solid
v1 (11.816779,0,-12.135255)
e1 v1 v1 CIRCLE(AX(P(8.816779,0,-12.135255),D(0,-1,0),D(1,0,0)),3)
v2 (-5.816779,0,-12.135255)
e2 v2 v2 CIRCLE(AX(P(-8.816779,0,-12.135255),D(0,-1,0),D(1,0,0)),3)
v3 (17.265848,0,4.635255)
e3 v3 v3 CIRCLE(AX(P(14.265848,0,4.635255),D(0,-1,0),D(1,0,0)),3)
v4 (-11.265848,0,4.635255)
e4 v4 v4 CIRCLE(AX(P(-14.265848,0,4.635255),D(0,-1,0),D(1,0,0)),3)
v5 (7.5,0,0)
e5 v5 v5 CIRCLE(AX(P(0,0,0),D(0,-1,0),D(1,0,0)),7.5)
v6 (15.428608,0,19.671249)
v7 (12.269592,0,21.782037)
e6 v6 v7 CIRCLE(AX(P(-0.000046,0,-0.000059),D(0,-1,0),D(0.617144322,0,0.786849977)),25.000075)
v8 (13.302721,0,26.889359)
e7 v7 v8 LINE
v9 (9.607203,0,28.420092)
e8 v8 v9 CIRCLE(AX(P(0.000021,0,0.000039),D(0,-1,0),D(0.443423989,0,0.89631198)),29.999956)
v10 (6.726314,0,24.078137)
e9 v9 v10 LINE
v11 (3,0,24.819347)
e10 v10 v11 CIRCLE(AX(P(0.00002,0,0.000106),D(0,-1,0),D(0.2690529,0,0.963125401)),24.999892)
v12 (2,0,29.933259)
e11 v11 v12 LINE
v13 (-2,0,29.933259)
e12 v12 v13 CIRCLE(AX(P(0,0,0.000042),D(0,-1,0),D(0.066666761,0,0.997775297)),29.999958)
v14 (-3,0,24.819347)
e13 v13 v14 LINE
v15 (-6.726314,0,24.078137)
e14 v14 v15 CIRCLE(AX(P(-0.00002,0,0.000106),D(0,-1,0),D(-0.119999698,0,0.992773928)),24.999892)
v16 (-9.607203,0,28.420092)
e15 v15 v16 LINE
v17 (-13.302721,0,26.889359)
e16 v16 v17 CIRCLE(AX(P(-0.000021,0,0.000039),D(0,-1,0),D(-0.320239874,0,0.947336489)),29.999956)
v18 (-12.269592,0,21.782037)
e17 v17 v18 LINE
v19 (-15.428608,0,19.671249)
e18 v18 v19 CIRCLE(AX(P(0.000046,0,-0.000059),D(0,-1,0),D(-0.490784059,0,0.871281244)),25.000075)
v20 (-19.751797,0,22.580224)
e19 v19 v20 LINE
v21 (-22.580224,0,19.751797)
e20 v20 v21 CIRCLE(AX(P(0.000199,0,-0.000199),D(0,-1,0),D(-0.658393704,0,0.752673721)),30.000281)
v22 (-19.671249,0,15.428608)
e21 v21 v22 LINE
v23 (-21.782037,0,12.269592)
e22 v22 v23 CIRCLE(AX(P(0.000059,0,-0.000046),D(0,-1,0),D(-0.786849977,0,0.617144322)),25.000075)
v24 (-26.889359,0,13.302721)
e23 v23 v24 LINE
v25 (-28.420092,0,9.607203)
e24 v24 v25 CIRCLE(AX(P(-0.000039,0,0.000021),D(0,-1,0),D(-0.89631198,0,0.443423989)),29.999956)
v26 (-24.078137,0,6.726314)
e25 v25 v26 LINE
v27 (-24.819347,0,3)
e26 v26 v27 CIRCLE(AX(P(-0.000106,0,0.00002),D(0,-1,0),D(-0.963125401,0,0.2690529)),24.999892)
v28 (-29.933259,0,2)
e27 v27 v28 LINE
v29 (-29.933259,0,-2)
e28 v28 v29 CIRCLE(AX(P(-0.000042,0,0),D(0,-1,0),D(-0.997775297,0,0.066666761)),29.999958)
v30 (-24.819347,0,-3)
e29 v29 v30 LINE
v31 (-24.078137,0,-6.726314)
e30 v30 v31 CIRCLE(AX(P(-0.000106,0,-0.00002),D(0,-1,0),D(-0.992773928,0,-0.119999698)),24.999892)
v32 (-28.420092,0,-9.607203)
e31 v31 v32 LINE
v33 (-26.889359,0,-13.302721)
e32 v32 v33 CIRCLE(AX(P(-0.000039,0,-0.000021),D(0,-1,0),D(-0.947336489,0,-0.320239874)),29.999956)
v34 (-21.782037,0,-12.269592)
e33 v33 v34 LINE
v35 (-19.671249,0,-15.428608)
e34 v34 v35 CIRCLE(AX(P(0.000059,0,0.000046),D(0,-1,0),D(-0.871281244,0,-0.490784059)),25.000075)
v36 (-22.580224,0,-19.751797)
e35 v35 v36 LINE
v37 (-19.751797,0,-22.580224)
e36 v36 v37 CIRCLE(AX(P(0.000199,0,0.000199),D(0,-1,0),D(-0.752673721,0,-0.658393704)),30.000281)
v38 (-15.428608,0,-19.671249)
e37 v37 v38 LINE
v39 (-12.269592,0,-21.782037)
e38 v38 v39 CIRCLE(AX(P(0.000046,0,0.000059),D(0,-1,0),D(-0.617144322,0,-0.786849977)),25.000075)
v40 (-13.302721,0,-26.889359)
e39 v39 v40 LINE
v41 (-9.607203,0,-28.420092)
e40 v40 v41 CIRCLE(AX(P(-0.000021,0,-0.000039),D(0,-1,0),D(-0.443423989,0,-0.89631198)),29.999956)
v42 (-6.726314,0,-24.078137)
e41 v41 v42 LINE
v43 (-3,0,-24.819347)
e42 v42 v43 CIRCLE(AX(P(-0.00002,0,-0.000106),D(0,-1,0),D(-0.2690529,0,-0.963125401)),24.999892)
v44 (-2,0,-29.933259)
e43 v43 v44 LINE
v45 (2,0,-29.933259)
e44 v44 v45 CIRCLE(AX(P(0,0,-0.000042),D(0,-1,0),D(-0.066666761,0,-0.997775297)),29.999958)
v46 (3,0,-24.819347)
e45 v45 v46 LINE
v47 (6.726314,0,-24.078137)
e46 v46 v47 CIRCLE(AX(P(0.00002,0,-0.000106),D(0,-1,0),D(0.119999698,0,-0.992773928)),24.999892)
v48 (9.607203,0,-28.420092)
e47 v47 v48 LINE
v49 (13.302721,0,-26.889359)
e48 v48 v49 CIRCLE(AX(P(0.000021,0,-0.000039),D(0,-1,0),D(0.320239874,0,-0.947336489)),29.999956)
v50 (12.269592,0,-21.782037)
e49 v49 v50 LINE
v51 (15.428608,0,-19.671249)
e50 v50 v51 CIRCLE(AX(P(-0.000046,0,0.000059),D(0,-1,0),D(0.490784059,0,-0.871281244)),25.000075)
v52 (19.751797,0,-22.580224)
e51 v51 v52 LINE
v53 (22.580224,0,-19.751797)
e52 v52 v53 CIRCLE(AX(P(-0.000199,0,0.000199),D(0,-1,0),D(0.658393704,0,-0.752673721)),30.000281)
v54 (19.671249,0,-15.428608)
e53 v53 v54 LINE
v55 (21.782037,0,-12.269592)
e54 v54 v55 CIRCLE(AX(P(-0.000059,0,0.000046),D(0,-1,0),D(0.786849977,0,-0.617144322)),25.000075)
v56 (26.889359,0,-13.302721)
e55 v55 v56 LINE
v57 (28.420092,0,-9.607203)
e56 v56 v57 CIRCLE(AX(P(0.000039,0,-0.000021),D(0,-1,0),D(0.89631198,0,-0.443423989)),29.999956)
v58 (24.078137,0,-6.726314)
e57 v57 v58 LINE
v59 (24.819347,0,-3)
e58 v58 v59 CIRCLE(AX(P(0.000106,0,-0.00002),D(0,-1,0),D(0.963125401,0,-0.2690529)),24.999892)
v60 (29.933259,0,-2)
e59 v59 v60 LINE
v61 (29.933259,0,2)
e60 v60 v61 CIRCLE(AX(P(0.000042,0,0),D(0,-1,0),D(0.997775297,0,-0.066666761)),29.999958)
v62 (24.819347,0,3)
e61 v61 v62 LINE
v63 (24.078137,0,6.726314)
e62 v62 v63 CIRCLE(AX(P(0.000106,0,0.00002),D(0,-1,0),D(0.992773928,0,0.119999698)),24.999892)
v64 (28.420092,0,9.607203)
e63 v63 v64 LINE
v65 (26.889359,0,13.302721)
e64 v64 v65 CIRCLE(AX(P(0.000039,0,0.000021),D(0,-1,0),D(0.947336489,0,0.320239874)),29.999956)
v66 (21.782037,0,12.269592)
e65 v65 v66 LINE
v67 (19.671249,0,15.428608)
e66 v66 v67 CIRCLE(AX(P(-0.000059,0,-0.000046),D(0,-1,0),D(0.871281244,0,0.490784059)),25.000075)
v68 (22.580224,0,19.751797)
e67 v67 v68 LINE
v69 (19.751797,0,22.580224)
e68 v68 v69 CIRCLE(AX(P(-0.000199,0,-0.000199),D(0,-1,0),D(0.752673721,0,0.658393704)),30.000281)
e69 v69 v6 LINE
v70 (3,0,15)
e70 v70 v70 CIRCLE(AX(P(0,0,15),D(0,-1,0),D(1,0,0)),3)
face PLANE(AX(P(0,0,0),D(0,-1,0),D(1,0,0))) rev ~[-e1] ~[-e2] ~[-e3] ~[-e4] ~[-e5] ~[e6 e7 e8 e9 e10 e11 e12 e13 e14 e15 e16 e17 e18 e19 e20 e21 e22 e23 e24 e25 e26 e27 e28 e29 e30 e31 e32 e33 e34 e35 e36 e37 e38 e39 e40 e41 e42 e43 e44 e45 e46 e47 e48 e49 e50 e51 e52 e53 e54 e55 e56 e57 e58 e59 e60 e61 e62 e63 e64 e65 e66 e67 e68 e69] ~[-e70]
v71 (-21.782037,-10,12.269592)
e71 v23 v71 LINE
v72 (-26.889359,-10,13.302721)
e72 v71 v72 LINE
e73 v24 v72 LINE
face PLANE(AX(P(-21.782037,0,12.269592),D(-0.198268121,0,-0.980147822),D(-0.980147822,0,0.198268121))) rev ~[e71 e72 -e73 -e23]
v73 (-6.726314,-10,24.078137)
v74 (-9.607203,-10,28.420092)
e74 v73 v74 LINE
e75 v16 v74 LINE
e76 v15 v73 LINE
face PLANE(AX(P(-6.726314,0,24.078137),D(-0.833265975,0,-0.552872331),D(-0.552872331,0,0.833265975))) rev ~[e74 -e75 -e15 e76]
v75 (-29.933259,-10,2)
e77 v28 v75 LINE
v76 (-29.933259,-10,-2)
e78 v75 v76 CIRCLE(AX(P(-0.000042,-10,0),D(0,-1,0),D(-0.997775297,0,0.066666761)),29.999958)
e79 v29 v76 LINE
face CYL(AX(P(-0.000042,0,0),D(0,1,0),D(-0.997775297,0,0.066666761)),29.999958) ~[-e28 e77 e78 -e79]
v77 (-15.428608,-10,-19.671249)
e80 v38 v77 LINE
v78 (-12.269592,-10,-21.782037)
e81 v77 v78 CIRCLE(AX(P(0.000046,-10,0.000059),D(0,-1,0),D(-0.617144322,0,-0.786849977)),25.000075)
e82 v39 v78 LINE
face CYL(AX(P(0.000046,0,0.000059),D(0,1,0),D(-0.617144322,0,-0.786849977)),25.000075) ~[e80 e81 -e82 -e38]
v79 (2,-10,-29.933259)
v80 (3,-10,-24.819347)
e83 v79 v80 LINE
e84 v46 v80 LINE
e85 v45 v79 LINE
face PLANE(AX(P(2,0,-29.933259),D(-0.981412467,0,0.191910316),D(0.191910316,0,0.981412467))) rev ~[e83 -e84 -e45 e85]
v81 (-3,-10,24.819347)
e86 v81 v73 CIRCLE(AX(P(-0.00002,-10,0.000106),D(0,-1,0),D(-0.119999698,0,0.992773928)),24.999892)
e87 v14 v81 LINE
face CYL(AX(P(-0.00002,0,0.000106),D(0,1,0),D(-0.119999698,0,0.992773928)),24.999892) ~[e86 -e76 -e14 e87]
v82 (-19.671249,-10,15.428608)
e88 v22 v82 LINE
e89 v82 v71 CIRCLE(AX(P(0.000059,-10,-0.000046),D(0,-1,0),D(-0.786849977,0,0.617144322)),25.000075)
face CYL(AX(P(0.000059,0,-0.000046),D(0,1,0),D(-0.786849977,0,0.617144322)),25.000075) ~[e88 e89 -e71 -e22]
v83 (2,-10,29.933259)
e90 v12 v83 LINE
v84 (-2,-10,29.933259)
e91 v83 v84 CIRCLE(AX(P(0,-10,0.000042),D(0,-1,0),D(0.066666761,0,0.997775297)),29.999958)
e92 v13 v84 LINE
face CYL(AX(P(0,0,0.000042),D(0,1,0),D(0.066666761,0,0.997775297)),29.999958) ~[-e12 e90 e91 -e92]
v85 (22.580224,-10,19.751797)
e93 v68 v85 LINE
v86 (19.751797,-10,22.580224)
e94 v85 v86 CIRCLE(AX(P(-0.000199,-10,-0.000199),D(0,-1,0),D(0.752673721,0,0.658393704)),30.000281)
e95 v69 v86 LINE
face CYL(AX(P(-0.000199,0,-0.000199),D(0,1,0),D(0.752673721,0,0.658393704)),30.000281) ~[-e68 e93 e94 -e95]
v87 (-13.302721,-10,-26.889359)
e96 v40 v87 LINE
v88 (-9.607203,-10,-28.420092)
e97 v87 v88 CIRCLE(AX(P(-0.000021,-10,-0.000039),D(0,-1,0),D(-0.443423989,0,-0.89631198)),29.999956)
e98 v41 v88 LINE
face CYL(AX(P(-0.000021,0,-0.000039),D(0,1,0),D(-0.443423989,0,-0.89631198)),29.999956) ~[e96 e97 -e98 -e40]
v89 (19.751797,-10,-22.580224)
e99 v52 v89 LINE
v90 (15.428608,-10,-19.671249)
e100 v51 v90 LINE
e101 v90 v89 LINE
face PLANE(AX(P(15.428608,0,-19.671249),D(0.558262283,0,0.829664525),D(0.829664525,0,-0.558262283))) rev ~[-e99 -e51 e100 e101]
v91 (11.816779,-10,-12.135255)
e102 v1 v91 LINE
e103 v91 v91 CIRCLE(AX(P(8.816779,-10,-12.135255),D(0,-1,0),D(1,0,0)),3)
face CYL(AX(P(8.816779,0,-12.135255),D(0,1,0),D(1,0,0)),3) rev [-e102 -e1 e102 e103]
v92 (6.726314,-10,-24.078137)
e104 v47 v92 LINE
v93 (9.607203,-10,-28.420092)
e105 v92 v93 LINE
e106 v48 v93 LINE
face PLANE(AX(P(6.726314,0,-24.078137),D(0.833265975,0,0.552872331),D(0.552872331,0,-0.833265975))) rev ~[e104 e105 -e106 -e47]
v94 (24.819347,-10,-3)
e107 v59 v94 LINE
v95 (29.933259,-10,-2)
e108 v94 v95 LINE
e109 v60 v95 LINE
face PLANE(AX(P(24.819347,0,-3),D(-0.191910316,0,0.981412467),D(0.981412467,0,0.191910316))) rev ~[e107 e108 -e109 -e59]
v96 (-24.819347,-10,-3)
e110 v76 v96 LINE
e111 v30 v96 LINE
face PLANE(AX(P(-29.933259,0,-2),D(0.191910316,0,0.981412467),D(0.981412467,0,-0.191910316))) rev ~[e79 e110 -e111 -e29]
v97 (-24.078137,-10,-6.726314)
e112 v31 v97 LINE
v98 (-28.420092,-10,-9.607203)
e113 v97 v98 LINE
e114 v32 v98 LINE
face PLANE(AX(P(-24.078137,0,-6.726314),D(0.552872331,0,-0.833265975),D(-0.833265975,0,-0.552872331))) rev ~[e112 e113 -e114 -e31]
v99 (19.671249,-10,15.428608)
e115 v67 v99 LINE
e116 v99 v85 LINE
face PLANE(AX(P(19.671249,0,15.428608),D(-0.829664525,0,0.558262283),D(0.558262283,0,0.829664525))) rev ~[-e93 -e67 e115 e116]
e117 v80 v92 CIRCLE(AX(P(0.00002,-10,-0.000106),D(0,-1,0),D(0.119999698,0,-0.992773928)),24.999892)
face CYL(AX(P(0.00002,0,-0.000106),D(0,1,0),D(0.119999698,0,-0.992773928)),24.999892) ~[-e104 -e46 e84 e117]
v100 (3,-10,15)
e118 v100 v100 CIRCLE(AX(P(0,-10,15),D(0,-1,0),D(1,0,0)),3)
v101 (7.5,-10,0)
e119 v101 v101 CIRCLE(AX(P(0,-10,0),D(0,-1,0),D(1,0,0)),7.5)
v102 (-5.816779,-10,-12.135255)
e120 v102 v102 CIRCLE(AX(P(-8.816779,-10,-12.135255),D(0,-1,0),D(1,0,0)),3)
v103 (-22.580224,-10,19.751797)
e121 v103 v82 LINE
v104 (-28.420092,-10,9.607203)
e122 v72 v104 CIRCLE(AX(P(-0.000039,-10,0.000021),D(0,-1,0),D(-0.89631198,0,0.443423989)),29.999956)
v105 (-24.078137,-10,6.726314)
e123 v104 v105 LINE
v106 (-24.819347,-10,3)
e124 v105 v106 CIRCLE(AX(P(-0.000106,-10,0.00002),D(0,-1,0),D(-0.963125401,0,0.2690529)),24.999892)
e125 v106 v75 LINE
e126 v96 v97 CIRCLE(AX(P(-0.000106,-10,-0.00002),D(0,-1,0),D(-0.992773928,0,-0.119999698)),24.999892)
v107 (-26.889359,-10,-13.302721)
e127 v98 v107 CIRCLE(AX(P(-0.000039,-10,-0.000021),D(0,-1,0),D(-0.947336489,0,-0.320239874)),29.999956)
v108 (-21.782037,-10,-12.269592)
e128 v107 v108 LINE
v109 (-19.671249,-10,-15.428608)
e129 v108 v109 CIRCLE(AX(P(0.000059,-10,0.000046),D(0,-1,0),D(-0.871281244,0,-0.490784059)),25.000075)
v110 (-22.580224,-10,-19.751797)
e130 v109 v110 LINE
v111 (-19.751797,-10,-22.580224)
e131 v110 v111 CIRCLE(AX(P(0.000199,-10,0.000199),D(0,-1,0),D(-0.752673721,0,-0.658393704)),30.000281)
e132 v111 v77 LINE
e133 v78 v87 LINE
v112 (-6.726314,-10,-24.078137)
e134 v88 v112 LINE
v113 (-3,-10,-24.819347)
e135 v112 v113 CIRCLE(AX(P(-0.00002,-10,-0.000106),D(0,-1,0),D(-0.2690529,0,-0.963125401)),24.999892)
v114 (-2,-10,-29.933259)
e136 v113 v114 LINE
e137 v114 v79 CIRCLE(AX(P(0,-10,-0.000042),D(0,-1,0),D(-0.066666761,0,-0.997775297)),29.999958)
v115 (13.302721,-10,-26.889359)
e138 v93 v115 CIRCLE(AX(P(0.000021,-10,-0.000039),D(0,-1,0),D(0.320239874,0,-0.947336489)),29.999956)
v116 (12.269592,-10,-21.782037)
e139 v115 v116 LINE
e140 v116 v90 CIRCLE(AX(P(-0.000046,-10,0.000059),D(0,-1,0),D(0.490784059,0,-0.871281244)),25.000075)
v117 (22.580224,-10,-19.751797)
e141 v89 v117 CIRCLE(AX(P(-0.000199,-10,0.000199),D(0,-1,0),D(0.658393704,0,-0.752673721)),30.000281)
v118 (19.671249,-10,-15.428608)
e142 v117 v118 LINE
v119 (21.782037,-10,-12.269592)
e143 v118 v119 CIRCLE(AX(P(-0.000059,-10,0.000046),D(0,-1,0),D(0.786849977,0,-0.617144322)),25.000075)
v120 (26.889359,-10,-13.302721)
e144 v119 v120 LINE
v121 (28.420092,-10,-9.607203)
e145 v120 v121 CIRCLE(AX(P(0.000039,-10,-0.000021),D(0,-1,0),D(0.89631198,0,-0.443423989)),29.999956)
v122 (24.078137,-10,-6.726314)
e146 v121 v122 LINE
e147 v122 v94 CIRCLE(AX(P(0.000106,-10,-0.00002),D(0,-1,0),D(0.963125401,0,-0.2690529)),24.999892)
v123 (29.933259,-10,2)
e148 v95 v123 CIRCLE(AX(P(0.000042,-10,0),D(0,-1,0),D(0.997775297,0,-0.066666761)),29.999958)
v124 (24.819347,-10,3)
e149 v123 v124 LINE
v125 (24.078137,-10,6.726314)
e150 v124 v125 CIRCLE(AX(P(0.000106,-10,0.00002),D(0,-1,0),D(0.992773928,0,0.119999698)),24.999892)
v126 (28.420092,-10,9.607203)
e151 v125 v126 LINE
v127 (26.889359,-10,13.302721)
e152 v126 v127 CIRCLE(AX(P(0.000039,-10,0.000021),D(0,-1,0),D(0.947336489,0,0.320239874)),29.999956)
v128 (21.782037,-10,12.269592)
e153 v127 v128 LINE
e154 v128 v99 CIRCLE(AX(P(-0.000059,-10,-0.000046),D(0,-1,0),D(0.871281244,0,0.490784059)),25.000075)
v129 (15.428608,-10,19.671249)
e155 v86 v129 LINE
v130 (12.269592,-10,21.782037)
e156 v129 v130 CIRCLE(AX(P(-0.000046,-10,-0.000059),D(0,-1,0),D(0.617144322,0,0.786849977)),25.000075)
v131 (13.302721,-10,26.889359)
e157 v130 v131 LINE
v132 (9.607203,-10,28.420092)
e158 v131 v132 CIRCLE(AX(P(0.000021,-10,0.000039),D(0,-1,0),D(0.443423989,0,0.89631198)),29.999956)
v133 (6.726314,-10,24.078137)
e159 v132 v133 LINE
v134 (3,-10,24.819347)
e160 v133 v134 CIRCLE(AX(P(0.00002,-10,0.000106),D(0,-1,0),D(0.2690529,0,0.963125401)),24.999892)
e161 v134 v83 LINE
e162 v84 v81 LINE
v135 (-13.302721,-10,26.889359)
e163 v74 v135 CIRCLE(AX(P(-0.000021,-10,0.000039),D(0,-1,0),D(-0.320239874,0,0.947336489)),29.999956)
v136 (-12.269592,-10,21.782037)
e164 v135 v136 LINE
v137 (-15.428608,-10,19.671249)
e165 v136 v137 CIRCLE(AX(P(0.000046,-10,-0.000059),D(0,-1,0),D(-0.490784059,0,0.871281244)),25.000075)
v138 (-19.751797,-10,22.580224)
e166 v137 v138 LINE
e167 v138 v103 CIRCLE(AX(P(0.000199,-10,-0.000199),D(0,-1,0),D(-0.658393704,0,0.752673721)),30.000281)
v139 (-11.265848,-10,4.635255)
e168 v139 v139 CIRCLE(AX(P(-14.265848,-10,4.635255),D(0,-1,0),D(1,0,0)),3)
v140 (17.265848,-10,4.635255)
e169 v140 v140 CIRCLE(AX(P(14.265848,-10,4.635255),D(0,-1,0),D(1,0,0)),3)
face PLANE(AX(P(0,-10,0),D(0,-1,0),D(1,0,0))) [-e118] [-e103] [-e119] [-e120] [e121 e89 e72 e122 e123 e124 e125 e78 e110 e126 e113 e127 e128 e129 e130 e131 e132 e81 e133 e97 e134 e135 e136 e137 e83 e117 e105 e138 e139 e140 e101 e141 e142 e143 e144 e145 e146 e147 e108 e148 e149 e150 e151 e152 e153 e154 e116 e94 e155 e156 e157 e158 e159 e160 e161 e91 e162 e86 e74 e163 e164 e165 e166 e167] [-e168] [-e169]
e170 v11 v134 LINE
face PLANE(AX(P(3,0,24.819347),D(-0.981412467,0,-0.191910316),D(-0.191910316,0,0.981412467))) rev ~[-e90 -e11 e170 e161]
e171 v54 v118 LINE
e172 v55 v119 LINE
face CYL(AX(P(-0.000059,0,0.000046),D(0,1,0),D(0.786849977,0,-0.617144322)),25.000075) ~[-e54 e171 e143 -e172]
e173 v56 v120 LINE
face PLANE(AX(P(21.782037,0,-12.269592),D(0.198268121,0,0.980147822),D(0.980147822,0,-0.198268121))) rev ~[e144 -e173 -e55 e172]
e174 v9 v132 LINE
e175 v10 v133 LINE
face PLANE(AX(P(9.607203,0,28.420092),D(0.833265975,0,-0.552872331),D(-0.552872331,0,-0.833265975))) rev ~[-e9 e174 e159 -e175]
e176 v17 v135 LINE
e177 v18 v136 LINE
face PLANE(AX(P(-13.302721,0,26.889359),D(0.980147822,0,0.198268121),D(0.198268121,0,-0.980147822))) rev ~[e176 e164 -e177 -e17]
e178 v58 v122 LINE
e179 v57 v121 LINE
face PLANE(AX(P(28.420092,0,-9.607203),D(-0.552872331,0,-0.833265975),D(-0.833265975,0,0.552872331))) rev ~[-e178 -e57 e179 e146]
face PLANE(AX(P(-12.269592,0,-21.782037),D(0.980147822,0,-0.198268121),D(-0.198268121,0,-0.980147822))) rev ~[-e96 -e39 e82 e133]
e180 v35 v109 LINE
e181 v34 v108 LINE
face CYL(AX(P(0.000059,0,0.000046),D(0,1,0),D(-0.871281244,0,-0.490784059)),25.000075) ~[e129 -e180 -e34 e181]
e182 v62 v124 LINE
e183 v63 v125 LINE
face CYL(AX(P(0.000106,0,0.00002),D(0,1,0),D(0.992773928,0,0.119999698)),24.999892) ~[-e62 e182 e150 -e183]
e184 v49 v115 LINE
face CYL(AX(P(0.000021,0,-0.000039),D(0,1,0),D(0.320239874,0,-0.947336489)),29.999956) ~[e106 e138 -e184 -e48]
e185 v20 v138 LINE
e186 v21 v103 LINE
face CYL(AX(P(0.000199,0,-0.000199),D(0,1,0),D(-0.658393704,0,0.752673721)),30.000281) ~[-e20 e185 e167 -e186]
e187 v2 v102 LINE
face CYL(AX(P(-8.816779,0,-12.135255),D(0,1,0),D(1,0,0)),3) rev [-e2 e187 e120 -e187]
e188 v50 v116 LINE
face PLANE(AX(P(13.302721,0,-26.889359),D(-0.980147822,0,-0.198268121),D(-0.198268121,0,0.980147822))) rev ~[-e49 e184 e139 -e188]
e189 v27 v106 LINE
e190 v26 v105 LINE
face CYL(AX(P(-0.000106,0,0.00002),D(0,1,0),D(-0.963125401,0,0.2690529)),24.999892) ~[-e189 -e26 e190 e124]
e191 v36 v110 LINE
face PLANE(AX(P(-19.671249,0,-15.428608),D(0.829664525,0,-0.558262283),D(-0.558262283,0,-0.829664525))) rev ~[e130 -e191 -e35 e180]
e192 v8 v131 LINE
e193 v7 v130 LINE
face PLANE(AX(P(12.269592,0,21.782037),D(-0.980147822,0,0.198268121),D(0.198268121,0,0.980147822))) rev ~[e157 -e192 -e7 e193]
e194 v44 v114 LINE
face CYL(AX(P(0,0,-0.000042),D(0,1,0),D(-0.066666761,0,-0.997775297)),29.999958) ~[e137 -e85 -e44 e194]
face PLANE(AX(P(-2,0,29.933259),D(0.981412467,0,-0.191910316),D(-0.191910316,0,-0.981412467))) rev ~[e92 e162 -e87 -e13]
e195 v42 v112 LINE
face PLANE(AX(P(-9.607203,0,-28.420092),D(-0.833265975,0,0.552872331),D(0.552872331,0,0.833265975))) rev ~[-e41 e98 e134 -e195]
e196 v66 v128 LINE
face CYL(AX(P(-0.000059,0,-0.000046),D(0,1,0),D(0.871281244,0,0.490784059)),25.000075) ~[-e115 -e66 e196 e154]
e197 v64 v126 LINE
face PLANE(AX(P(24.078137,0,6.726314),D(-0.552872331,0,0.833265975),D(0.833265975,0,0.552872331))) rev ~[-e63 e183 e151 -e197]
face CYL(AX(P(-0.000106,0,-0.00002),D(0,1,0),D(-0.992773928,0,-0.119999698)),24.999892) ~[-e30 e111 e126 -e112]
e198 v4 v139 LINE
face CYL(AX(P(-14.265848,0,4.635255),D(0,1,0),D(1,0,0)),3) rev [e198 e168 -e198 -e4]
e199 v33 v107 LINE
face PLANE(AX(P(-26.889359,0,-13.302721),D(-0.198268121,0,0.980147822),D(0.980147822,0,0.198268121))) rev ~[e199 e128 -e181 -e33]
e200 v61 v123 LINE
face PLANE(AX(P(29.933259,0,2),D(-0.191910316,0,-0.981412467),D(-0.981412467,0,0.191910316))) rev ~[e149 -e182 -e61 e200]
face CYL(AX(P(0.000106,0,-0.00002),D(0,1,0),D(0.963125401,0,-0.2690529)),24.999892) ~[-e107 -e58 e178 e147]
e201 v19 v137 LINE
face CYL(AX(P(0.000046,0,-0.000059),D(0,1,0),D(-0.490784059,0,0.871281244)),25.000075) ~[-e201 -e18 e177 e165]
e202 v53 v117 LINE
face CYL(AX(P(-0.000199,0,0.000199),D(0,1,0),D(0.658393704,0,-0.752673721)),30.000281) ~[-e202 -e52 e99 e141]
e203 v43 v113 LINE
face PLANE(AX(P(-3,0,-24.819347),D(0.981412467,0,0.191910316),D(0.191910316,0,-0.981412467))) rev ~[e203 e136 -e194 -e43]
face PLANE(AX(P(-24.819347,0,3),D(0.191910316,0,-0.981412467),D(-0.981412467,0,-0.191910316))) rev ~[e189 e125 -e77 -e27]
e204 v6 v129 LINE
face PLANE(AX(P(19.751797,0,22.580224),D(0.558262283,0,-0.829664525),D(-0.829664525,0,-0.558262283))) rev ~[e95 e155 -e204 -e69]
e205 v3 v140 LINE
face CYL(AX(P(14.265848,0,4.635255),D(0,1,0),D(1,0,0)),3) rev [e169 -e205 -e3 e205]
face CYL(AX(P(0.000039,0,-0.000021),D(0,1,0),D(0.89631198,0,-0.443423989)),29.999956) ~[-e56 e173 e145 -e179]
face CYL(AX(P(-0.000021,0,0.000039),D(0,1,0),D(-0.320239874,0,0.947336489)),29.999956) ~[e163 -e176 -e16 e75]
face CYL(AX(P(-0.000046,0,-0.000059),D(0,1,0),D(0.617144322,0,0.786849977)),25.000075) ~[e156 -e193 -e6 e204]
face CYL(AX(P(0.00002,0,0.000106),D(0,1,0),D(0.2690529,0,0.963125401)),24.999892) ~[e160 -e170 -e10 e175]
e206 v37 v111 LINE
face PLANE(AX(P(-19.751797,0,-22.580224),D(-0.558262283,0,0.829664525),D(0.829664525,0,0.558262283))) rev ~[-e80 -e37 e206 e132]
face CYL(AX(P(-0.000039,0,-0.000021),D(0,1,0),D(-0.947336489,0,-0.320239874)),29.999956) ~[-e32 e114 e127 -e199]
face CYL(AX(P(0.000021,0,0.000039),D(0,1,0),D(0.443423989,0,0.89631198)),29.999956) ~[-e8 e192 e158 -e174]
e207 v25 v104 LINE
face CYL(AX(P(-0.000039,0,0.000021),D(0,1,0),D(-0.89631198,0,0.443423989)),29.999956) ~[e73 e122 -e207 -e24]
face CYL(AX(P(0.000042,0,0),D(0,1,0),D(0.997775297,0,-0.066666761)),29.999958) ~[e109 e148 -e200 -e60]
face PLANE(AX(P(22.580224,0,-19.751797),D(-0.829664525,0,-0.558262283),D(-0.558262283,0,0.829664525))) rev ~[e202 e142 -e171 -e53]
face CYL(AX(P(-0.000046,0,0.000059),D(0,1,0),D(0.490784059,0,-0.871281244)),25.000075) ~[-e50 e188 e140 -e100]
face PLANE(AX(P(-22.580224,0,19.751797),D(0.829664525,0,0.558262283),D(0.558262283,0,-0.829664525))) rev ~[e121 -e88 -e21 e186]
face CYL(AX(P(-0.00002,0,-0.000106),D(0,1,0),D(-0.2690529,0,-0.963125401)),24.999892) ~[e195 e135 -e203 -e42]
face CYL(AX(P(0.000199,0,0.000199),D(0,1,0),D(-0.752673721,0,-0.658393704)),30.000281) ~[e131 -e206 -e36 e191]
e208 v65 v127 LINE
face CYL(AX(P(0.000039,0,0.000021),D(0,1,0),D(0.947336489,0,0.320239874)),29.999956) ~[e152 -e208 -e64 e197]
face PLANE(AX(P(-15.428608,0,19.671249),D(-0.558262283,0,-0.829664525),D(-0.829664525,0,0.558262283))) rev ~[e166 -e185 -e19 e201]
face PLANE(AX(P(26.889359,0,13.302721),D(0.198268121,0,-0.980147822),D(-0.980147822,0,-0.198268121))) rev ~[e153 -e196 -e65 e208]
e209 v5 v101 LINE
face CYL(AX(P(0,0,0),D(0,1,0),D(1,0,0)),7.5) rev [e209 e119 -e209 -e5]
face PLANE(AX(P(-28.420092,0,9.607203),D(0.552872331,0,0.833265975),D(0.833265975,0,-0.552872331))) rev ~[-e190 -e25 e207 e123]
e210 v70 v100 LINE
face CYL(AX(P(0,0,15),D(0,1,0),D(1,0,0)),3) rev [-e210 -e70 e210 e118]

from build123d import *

# Parameters (mm, degrees)
F0_R     = 3
F0_R_2   = 7.5
F1_DEPTH = 10


with BuildPart() as f1:
    # F0 (on Front) → F1 (new body)
    with BuildSketch(Plane.XZ):
        with BuildLine():
            Line((-13.302721, 26.889359), (-12.269592, 21.782037))
            ThreePointArc((-12.269592, 21.782037), (-13.889256, 20.78674), (-15.428608, 19.671249))
            Line((-15.428608, 19.671249), (-19.751797, 22.580224))
            ThreePointArc((-19.751797, 22.580224), (-21.213203, 21.213203), (-22.580224, 19.751797))
            Line((-22.580224, 19.751797), (-19.671249, 15.428608))
            ThreePointArc((-19.671249, 15.428608), (-20.78674, 13.889256), (-21.782037, 12.269592))
            Line((-21.782037, 12.269592), (-26.889359, 13.302721))
            ThreePointArc((-26.889359, 13.302721), (-27.716386, 11.480503), (-28.420092, 9.607203))
            Line((-28.420092, 9.607203), (-24.078137, 6.726314))
            ThreePointArc((-24.078137, 6.726314), (-24.519632, 4.877258), (-24.819347, 3))
            Line((-24.819347, 3), (-29.933259, 2))
            ThreePointArc((-29.933259, 2), (-30, 0), (-29.933259, -2))
            Line((-29.933259, -2), (-24.819347, -3))
            ThreePointArc((-24.819347, -3), (-24.519632, -4.877258), (-24.078137, -6.726314))
            Line((-24.078137, -6.726314), (-28.420092, -9.607203))
            ThreePointArc((-28.420092, -9.607203), (-27.716386, -11.480503), (-26.889359, -13.302721))
            Line((-26.889359, -13.302721), (-21.782037, -12.269592))
            ThreePointArc((-21.782037, -12.269592), (-20.78674, -13.889256), (-19.671249, -15.428608))
            Line((-19.671249, -15.428608), (-22.580224, -19.751797))
            ThreePointArc((-22.580224, -19.751797), (-21.213203, -21.213203), (-19.751797, -22.580224))
            Line((-19.751797, -22.580224), (-15.428608, -19.671249))
            ThreePointArc((-15.428608, -19.671249), (-13.889256, -20.78674), (-12.269592, -21.782037))
            Line((-12.269592, -21.782037), (-13.302721, -26.889359))
            ThreePointArc((-13.302721, -26.889359), (-11.480503, -27.716386), (-9.607203, -28.420092))
            Line((-9.607203, -28.420092), (-6.726314, -24.078137))
            ThreePointArc((-6.726314, -24.078137), (-4.877258, -24.519632), (-3, -24.819347))
            Line((-3, -24.819347), (-2, -29.933259))
            ThreePointArc((-2, -29.933259), (0, -30), (2, -29.933259))
            Line((2, -29.933259), (3, -24.819347))
            ThreePointArc((3, -24.819347), (4.877258, -24.519632), (6.726314, -24.078137))
            Line((6.726314, -24.078137), (9.607203, -28.420092))
            ThreePointArc((9.607203, -28.420092), (11.480503, -27.716386), (13.302721, -26.889359))
            Line((13.302721, -26.889359), (12.269592, -21.782037))
            ThreePointArc((12.269592, -21.782037), (13.889256, -20.78674), (15.428608, -19.671249))
            Line((15.428608, -19.671249), (19.751797, -22.580224))
            ThreePointArc((19.751797, -22.580224), (21.213203, -21.213203), (22.580224, -19.751797))
            Line((22.580224, -19.751797), (19.671249, -15.428608))
            ThreePointArc((19.671249, -15.428608), (20.78674, -13.889256), (21.782037, -12.269592))
            Line((21.782037, -12.269592), (26.889359, -13.302721))
            ThreePointArc((26.889359, -13.302721), (27.716386, -11.480503), (28.420092, -9.607203))
            Line((28.420092, -9.607203), (24.078137, -6.726314))
            ThreePointArc((24.078137, -6.726314), (24.519632, -4.877258), (24.819347, -3))
            Line((24.819347, -3), (29.933259, -2))
            ThreePointArc((29.933259, -2), (30, 0), (29.933259, 2))
            Line((29.933259, 2), (24.819347, 3))
            ThreePointArc((24.819347, 3), (24.519632, 4.877258), (24.078137, 6.726314))
            Line((24.078137, 6.726314), (28.420092, 9.607203))
            ThreePointArc((28.420092, 9.607203), (27.716386, 11.480503), (26.889359, 13.302721))
            Line((26.889359, 13.302721), (21.782037, 12.269592))
            ThreePointArc((21.782037, 12.269592), (20.78674, 13.889256), (19.671249, 15.428608))
            Line((19.671249, 15.428608), (22.580224, 19.751797))
            ThreePointArc((22.580224, 19.751797), (21.213203, 21.213203), (19.751797, 22.580224))
            Line((19.751797, 22.580224), (15.428608, 19.671249))
            ThreePointArc((15.428608, 19.671249), (13.889256, 20.78674), (12.269592, 21.782037))
            Line((12.269592, 21.782037), (13.302721, 26.889359))
            ThreePointArc((13.302721, 26.889359), (11.480503, 27.716386), (9.607203, 28.420092))
            Line((9.607203, 28.420092), (6.726314, 24.078137))
            ThreePointArc((6.726314, 24.078137), (4.877258, 24.519632), (3, 24.819347))
            Line((3, 24.819347), (2, 29.933259))
            ThreePointArc((2, 29.933259), (0, 30), (-2, 29.933259))
            Line((-2, 29.933259), (-3, 24.819347))
            ThreePointArc((-3, 24.819347), (-4.877258, 24.519632), (-6.726314, 24.078137))
            Line((-6.726314, 24.078137), (-9.607203, 28.420092))
            ThreePointArc((-9.607203, 28.420092), (-11.480503, 27.716386), (-13.302721, 26.889359))
        make_face()
        with Locations((-8.816779, -12.135255)):
            Circle(F0_R, mode=Mode.SUBTRACT)
        with Locations((8.816779, -12.135255)):
            Circle(F0_R, mode=Mode.SUBTRACT)
        with Locations((-14.265848, 4.635255)):
            Circle(F0_R, mode=Mode.SUBTRACT)
        Circle(F0_R_2, mode=Mode.SUBTRACT)
        with Locations((14.265848, 4.635255)):
            Circle(F0_R, mode=Mode.SUBTRACT)
        with Locations((0, 15)):
            Circle(F0_R, mode=Mode.SUBTRACT)
    extrude(amount=F1_DEPTH)


solid = f1.part
